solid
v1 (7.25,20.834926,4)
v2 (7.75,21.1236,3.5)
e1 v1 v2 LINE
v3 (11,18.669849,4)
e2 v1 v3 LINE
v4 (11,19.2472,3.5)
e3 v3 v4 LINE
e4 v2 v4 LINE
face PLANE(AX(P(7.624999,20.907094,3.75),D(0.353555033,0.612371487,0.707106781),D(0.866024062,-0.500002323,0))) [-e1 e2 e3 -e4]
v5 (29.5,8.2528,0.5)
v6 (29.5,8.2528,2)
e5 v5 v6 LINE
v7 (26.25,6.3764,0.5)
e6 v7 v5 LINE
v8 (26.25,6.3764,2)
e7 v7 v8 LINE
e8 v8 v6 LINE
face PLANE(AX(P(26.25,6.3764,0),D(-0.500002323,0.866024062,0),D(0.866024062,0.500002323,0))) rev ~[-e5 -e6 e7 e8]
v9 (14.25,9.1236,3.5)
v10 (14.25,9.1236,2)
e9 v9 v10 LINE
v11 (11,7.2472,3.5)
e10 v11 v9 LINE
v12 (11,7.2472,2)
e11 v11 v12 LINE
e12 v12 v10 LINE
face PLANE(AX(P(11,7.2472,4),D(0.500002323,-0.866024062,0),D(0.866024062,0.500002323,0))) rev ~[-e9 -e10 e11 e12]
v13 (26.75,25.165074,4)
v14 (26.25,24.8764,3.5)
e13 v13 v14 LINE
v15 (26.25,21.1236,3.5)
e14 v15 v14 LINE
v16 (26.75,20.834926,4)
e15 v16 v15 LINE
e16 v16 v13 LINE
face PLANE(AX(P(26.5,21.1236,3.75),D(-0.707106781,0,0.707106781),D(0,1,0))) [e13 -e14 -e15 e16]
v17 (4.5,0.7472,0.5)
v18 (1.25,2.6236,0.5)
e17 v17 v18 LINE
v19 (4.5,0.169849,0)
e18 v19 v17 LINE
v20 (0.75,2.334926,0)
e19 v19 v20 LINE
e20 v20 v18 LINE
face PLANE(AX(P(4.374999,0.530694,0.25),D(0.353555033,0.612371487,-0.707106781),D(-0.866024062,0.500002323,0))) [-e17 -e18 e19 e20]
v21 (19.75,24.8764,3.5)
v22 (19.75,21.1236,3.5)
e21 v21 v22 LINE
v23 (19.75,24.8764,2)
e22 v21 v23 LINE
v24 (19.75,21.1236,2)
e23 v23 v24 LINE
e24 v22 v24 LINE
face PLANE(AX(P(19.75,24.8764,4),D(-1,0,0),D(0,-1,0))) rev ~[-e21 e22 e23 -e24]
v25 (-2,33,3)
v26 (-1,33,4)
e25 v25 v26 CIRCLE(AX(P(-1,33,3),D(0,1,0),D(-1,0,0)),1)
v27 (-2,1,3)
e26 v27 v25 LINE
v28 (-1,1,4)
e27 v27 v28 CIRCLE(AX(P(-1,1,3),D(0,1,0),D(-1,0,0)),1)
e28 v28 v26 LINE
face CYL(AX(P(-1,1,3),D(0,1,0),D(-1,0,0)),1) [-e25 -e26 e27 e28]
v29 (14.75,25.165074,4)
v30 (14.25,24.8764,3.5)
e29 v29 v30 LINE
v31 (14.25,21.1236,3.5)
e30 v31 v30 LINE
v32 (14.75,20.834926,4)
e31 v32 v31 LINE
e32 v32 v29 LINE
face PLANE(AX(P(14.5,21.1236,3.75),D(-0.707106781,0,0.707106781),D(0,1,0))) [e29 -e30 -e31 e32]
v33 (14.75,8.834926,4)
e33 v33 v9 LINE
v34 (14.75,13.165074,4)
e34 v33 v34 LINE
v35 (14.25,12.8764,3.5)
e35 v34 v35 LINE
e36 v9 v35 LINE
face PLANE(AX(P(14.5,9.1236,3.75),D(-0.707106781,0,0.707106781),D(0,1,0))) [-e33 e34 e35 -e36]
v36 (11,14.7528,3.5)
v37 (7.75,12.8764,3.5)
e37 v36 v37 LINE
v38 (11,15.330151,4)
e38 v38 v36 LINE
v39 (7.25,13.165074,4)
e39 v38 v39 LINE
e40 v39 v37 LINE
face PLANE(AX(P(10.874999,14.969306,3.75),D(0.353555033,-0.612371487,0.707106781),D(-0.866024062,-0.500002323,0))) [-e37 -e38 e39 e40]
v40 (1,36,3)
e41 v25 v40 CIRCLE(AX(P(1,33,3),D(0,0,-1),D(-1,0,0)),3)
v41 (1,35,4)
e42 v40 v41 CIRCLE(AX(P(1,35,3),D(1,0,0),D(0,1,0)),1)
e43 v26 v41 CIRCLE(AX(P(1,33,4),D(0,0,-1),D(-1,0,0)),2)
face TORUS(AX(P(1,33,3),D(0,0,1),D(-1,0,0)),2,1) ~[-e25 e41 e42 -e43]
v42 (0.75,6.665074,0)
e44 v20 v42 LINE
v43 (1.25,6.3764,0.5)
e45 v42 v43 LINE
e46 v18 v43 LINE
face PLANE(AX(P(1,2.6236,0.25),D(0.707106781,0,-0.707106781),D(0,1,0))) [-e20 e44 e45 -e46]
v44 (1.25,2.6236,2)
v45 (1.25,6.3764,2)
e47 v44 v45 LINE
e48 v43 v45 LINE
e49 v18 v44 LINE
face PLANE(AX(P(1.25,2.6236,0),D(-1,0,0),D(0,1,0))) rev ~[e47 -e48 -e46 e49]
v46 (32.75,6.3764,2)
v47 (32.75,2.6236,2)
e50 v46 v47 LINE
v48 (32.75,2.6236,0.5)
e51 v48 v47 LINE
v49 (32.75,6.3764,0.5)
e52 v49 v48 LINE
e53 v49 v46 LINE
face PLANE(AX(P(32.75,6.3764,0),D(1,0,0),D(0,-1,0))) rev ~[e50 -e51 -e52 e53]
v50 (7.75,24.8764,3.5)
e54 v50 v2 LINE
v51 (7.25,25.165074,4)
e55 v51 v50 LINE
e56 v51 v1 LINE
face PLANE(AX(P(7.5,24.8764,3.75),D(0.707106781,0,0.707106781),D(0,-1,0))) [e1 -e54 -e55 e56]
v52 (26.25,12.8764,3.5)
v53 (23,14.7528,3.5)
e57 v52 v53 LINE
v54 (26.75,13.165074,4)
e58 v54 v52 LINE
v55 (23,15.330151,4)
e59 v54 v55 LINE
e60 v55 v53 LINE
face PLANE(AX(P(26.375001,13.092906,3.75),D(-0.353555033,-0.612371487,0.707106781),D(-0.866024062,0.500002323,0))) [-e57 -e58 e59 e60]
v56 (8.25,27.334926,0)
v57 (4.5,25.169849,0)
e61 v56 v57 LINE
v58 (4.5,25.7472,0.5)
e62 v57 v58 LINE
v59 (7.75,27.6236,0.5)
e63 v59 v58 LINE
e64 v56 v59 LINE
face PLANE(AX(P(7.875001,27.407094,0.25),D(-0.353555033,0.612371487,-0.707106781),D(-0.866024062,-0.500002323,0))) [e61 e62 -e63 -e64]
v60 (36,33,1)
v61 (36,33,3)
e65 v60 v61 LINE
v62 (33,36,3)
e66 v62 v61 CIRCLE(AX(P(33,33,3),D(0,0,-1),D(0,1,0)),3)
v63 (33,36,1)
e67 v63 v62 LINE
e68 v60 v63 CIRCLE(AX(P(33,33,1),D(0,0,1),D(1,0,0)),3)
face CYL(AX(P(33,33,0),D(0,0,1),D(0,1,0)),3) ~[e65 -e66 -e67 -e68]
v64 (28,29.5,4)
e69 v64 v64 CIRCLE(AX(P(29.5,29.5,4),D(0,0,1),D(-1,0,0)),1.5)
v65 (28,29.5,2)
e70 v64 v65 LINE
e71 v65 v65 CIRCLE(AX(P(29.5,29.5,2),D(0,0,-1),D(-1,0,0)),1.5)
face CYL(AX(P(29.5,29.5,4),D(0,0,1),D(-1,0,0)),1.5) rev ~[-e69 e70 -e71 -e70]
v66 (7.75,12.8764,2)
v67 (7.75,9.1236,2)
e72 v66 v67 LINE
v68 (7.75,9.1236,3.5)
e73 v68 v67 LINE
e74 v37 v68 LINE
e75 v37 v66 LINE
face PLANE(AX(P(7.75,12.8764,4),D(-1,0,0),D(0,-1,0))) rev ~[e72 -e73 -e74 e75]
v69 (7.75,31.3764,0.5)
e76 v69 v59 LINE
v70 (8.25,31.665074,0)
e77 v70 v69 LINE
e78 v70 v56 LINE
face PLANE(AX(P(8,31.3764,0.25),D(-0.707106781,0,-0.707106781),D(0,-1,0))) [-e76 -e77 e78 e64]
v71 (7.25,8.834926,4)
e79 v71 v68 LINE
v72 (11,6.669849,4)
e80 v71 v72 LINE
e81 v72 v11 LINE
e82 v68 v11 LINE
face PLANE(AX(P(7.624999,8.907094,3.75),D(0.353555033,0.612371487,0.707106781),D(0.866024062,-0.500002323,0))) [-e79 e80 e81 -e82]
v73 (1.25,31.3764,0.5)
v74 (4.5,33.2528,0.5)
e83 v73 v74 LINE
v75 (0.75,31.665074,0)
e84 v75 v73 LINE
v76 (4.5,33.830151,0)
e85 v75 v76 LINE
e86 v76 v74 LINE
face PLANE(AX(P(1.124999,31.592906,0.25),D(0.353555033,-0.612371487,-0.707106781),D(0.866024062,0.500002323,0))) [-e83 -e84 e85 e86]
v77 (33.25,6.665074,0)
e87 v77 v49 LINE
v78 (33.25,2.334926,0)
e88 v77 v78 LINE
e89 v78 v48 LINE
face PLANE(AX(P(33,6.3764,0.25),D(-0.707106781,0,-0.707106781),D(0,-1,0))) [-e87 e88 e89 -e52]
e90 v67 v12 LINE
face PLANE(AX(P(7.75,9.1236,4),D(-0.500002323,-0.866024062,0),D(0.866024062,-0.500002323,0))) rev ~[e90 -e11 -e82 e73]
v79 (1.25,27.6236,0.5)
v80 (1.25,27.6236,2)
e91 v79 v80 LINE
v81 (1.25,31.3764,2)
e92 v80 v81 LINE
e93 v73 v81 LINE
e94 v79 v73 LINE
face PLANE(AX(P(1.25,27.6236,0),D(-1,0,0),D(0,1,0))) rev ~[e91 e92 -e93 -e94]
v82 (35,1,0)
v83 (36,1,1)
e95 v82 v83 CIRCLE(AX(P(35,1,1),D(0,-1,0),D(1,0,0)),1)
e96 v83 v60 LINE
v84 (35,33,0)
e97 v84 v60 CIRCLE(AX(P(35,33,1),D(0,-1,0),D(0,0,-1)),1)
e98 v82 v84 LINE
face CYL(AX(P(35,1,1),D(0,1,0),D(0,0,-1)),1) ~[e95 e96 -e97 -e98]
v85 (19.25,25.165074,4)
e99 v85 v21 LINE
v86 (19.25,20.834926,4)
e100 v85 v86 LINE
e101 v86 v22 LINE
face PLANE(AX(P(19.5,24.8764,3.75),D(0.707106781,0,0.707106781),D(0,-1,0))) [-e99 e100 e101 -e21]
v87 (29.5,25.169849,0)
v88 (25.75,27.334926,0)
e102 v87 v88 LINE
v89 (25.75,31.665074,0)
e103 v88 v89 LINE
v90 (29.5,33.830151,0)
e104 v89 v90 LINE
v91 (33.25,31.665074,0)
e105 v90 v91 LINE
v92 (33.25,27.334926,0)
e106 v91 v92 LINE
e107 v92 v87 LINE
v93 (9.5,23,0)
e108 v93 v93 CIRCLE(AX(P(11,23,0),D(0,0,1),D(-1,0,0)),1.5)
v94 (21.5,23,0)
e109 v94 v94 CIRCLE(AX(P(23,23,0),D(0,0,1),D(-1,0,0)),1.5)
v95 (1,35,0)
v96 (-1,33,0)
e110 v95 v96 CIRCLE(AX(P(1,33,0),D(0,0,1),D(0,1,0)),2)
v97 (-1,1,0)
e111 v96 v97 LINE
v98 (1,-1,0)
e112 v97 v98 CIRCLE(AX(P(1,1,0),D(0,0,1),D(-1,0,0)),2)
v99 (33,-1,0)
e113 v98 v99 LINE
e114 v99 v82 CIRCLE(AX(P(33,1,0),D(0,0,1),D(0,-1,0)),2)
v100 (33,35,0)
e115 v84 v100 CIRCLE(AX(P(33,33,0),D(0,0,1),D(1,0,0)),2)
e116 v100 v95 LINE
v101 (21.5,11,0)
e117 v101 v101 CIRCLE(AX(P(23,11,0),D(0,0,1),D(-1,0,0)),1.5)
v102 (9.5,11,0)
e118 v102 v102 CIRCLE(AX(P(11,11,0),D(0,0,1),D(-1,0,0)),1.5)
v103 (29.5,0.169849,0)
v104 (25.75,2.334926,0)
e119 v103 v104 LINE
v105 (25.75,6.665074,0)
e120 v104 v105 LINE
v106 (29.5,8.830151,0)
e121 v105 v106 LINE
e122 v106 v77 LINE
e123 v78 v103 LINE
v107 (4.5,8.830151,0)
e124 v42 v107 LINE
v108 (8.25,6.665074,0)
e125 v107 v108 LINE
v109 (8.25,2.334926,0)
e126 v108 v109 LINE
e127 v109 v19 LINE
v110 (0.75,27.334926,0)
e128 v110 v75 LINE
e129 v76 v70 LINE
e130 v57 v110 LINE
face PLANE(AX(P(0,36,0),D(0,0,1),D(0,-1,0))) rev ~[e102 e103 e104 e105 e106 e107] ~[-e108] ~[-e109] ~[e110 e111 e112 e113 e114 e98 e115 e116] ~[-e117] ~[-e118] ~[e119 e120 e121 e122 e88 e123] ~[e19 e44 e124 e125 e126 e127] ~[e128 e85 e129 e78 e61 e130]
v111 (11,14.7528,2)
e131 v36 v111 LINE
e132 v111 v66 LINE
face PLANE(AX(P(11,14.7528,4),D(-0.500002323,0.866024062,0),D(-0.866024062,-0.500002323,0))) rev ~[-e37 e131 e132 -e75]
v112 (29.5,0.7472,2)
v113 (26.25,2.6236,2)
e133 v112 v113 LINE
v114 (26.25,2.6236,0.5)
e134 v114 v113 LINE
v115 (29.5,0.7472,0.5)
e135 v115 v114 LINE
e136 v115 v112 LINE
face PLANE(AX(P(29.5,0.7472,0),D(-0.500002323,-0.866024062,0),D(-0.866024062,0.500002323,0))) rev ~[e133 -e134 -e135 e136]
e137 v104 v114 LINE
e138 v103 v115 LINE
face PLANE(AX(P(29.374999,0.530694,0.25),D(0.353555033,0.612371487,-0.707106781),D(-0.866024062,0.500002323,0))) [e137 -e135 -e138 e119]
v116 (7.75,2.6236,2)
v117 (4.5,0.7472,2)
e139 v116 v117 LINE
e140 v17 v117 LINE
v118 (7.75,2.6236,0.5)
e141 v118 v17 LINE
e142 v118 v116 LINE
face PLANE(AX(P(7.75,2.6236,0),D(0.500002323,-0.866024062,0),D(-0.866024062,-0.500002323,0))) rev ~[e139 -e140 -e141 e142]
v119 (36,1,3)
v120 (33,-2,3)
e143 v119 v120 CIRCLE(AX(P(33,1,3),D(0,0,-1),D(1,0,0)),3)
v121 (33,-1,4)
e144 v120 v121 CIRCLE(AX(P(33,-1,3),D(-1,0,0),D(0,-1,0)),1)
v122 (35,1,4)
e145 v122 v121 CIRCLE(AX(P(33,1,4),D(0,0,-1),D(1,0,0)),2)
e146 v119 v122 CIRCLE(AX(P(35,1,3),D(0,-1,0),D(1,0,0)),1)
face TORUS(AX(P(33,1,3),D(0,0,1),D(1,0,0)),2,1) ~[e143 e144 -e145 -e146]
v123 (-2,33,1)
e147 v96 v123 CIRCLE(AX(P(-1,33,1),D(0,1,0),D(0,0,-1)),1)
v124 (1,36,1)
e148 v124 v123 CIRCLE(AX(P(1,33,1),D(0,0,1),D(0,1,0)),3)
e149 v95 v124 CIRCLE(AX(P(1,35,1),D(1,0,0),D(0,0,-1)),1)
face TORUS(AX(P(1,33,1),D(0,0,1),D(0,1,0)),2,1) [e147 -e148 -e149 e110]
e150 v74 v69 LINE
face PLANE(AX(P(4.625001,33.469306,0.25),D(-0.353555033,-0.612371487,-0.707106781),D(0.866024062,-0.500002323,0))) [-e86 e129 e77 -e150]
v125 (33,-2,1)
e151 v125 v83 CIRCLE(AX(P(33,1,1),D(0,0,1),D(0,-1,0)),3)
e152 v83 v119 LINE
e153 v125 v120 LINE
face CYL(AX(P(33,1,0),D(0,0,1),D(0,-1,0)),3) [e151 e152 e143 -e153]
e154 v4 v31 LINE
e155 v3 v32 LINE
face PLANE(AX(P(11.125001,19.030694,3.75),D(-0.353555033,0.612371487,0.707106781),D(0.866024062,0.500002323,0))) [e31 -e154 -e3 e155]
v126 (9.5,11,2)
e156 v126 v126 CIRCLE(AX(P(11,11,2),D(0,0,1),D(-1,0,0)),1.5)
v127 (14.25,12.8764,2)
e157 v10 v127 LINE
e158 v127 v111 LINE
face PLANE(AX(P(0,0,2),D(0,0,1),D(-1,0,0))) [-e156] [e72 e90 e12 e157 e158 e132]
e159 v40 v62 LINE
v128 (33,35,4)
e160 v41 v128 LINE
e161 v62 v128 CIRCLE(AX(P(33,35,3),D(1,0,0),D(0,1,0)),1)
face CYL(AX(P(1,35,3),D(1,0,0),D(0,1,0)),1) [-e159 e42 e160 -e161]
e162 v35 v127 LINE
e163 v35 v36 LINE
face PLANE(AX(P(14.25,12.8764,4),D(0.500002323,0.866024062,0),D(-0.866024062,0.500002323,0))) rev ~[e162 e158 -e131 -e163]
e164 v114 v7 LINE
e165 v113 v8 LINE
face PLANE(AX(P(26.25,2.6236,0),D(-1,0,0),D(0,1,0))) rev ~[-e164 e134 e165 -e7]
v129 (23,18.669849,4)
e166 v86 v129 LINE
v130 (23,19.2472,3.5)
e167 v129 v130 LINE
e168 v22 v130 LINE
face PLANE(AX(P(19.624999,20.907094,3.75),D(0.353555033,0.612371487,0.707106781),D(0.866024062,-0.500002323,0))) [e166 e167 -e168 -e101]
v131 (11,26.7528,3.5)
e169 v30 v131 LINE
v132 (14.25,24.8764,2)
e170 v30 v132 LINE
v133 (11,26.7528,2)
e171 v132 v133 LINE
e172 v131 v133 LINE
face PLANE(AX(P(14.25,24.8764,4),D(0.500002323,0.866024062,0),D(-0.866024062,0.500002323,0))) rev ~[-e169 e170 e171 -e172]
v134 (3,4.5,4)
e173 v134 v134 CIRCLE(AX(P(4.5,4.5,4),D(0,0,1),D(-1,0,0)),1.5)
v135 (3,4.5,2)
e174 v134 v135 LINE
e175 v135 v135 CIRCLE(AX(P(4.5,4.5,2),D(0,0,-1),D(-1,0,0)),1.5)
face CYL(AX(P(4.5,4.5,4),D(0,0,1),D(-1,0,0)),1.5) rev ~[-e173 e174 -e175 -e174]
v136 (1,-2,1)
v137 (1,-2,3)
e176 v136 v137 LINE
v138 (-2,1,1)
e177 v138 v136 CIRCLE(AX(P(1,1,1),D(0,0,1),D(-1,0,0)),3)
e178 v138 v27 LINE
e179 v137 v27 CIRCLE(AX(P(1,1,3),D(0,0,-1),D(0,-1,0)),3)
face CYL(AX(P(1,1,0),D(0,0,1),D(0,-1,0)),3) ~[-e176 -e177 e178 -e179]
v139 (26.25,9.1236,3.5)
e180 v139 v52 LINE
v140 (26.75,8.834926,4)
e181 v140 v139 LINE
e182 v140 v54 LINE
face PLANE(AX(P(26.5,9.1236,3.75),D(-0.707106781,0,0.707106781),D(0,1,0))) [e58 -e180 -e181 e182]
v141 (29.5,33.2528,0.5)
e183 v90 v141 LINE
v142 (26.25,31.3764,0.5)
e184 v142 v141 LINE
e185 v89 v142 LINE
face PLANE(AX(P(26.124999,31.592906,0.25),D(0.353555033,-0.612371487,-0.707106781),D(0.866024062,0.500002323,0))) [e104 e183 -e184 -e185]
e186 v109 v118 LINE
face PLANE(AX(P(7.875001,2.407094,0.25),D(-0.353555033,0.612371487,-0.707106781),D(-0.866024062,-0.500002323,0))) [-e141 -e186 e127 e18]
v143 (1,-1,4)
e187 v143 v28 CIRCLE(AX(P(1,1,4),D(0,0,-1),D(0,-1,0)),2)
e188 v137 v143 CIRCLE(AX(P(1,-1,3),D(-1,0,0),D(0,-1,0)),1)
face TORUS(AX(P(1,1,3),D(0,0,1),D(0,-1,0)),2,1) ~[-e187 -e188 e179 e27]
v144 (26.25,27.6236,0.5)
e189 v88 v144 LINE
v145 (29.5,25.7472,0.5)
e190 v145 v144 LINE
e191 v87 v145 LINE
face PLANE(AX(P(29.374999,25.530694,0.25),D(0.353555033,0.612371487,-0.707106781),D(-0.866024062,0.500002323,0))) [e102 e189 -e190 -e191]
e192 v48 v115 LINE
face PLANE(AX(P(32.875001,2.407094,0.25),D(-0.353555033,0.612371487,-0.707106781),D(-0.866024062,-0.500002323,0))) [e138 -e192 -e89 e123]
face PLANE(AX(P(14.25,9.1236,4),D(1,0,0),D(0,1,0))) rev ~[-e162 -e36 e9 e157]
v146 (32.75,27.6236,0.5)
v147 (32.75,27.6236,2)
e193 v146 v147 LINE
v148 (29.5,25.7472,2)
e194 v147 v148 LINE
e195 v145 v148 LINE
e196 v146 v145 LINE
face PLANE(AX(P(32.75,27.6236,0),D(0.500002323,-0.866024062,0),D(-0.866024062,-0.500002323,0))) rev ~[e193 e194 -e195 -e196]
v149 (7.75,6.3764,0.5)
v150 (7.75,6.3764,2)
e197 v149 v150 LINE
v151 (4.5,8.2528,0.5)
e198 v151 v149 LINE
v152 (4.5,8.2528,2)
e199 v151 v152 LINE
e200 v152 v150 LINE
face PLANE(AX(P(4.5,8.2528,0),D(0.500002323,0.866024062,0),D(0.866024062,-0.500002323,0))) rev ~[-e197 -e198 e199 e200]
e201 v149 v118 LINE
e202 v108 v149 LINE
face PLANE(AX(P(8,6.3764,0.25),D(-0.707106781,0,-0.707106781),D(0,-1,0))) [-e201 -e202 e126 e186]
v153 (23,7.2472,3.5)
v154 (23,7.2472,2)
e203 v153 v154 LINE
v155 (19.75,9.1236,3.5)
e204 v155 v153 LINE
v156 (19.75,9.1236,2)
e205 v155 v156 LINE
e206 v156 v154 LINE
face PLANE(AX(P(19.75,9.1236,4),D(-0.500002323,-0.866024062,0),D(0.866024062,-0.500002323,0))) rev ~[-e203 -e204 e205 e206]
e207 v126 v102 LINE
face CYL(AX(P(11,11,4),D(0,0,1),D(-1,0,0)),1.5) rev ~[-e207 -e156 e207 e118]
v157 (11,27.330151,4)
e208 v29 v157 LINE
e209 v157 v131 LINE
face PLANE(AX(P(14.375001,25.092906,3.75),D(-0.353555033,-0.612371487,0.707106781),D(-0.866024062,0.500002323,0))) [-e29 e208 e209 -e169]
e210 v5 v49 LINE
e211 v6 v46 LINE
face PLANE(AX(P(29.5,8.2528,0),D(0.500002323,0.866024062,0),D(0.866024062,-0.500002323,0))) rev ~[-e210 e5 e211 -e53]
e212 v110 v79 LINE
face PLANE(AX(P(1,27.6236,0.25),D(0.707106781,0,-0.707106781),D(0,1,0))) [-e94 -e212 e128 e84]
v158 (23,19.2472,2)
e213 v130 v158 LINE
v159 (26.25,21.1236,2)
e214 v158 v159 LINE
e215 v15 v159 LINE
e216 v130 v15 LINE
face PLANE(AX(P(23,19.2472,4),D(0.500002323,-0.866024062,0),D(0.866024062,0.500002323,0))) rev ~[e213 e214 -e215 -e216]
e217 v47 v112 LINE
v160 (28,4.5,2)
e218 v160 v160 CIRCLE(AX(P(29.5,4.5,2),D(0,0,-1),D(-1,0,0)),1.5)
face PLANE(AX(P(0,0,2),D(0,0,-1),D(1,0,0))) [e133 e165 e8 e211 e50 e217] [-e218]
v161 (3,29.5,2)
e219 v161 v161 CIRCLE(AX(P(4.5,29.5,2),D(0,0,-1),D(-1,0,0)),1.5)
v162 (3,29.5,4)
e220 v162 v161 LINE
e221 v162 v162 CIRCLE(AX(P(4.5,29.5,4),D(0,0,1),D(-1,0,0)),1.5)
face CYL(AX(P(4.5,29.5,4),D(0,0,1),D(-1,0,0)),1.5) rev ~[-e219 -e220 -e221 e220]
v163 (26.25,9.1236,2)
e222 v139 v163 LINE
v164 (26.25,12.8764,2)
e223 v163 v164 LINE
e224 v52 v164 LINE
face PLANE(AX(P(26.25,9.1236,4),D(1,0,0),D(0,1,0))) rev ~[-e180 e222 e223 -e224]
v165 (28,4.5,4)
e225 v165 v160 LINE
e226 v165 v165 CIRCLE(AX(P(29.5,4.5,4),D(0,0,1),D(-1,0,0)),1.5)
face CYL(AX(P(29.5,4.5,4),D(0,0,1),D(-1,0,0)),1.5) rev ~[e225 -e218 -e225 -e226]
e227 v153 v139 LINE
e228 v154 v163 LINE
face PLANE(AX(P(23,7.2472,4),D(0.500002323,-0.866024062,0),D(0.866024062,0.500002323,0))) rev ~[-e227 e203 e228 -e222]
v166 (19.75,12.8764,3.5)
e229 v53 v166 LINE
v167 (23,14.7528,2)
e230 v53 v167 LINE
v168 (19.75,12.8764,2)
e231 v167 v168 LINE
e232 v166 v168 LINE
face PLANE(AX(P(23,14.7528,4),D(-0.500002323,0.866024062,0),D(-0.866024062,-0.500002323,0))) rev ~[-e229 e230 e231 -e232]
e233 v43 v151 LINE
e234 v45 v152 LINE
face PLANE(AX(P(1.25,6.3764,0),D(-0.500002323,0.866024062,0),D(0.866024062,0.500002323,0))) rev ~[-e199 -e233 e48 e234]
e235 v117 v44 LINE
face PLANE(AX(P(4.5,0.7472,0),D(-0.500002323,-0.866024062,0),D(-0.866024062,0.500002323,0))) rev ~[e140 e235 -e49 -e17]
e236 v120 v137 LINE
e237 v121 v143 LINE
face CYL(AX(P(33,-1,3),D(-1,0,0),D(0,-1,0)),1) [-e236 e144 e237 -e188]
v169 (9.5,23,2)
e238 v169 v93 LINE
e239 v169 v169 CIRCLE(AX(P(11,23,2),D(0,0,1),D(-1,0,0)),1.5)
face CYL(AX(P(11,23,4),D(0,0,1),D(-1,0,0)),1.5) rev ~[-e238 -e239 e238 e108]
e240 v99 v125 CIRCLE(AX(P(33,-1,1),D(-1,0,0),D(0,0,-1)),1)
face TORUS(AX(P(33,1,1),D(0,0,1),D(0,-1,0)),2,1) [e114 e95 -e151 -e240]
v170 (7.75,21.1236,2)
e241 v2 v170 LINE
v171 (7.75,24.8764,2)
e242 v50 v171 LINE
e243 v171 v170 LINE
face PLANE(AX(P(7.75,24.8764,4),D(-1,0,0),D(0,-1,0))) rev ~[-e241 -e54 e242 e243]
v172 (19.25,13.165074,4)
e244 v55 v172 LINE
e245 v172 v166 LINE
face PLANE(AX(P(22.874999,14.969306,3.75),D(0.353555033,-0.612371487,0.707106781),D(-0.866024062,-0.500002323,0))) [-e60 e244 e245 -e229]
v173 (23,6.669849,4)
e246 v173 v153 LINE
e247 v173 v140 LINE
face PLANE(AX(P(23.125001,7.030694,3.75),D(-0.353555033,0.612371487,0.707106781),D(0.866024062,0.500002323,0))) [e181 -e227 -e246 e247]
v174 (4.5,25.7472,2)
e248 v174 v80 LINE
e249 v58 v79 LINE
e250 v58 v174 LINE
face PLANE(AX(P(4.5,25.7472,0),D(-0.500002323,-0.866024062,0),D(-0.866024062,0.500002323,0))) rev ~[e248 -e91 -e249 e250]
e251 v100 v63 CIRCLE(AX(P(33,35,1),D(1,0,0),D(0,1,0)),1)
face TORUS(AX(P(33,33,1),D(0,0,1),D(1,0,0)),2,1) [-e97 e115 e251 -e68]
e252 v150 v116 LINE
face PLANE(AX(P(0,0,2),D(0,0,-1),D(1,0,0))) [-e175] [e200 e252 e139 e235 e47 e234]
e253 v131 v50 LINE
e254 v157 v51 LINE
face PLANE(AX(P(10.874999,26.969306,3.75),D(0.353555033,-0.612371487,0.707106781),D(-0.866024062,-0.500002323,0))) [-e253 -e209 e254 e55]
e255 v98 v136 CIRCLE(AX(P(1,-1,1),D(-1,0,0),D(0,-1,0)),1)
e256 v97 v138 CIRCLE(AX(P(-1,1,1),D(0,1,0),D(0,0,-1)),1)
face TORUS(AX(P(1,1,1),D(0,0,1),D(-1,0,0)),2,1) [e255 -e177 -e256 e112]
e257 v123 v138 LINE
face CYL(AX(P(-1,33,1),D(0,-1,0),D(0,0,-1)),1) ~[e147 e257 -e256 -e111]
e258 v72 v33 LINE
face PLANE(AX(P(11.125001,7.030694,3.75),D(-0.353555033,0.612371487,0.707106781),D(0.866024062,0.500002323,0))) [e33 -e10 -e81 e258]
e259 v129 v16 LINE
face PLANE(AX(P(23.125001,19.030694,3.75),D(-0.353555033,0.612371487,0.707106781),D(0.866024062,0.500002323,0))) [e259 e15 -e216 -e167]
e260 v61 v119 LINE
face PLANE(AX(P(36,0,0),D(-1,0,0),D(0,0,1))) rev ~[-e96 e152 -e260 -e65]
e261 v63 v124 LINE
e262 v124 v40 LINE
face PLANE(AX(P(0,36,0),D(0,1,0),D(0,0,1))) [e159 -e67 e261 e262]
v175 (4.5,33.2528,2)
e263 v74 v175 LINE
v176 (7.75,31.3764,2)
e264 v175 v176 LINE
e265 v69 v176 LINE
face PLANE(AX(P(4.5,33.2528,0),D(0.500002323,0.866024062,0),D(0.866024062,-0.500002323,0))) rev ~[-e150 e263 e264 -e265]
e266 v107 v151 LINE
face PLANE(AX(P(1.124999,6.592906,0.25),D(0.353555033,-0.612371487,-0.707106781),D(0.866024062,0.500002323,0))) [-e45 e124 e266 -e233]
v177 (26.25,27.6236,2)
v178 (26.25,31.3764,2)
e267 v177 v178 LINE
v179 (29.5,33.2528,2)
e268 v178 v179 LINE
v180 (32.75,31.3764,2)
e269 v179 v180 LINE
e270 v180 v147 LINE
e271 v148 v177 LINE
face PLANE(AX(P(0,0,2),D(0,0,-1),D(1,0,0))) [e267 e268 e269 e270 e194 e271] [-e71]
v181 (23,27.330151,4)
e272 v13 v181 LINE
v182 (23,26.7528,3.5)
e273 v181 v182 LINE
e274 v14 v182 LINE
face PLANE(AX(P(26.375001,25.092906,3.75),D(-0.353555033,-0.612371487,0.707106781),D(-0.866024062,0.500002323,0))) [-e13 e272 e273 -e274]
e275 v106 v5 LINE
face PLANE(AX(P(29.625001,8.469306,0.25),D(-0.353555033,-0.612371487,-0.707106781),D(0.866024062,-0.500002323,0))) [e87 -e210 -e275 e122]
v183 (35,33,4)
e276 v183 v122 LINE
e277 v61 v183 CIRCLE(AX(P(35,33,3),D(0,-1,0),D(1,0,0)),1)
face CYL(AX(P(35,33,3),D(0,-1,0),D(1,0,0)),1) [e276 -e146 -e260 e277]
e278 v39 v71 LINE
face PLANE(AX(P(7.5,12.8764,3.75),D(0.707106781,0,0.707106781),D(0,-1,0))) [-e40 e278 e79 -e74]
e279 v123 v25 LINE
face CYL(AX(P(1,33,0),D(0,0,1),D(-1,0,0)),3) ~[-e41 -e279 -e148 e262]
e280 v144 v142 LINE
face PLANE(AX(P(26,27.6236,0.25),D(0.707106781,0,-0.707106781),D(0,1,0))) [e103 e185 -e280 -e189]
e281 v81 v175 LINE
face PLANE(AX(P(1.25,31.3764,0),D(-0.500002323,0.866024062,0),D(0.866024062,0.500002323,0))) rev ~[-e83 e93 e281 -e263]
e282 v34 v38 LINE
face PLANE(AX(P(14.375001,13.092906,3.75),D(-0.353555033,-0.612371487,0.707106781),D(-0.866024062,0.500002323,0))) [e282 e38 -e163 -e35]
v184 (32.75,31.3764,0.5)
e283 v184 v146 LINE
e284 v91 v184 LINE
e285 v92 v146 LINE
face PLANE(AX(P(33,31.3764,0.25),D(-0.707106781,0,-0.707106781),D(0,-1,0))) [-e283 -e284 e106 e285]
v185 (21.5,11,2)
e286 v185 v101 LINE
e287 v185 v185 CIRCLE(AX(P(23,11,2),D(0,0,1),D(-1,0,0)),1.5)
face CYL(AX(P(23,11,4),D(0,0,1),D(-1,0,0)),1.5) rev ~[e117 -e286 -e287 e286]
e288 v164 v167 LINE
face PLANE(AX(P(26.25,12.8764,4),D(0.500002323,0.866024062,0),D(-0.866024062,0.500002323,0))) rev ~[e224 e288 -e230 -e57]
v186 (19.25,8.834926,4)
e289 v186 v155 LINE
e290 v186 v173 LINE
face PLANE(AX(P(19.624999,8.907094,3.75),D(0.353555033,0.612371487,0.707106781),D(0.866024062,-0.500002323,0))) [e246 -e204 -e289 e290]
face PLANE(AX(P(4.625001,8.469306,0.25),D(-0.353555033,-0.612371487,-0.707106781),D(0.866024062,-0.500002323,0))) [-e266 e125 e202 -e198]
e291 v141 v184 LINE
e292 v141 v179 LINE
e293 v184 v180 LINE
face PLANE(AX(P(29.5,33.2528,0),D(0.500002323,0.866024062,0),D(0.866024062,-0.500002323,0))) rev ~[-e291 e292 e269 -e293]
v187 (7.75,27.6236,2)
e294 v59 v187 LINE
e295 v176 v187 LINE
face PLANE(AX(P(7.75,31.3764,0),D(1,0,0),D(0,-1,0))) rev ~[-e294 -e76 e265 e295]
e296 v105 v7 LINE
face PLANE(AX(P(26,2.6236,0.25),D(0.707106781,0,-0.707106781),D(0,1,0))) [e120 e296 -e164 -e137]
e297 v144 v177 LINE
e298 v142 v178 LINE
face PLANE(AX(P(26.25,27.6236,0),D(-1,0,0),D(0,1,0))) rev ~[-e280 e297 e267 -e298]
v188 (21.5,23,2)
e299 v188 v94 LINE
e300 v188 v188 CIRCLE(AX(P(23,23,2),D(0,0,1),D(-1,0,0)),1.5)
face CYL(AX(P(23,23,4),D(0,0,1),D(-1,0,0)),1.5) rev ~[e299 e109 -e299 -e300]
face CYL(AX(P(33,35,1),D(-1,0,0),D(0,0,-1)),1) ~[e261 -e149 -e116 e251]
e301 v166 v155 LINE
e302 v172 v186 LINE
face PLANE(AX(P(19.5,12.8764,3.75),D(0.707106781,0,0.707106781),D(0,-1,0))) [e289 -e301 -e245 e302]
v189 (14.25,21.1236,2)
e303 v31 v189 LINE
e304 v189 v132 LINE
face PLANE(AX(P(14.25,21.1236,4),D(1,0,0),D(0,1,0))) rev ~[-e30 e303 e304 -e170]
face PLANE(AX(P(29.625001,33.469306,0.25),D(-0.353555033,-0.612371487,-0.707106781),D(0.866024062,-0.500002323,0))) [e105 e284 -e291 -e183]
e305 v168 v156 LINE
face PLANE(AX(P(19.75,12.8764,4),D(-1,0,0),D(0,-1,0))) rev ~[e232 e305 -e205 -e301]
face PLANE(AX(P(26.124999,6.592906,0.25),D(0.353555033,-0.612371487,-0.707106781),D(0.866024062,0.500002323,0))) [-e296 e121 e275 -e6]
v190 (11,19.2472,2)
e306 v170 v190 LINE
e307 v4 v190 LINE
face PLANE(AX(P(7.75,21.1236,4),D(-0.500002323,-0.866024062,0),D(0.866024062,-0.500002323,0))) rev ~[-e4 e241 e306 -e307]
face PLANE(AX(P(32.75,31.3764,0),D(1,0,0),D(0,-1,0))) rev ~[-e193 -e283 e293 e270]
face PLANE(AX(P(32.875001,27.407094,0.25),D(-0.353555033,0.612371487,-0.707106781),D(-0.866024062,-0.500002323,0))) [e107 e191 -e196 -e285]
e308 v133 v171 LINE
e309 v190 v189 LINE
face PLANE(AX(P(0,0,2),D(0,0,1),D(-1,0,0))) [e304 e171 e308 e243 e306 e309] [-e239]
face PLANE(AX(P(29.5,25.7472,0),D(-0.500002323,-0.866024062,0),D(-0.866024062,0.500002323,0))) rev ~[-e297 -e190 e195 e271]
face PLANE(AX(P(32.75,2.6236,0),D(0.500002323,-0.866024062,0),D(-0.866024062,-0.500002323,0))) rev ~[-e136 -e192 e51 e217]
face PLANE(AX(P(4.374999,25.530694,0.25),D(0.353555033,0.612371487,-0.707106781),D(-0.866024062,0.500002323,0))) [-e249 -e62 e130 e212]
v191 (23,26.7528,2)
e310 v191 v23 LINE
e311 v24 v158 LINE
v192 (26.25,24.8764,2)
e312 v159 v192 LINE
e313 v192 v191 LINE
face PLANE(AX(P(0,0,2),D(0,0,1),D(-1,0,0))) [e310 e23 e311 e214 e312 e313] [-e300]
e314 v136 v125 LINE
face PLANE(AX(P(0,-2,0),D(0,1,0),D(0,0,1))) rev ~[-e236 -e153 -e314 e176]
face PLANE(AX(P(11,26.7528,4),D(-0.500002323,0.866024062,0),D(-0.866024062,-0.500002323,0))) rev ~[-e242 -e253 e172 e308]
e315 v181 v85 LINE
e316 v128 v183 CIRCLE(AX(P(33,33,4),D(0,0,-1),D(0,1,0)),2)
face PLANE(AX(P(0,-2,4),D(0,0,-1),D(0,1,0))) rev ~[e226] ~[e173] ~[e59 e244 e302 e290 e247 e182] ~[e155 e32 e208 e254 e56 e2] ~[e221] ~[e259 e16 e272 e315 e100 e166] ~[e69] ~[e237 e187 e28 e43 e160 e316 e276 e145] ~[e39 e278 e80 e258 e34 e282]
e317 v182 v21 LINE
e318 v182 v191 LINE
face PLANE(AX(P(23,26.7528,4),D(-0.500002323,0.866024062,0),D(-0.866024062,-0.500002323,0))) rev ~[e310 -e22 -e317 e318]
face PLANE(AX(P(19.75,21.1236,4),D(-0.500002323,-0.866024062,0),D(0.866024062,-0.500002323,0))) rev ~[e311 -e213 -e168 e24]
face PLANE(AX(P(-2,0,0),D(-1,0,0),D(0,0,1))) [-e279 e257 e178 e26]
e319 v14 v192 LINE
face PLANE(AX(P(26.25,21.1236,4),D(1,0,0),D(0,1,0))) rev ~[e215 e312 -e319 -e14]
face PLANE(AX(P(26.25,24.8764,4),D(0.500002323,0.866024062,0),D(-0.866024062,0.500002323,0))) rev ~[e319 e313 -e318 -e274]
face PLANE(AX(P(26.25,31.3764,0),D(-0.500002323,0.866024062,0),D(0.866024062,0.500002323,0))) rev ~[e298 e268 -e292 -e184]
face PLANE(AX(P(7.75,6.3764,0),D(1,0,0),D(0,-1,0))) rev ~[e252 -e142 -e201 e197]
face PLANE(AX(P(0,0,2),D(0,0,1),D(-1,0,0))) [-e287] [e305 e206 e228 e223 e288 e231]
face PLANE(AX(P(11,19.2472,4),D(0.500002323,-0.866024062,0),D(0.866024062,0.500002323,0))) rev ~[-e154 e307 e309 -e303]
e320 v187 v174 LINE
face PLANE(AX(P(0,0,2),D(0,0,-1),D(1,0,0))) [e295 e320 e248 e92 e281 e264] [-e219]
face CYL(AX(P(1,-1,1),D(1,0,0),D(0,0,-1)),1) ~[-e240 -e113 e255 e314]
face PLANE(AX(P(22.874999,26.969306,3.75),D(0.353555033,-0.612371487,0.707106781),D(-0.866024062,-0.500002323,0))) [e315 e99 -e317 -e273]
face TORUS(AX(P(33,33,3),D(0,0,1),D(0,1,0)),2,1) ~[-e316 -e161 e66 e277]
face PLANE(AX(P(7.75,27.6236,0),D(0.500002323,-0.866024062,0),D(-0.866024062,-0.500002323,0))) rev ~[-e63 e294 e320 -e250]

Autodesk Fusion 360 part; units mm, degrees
sketch "Sketch1" plane through (0, 0, 0) normal (0, 0, 1) x (1, 0, 0)
  line L0 (0, 0) -> (34, 0)
  line L1 (34, 0) -> (34, 34)
  line L2 (34, 34) -> (0, 34)
  line L3 (0, 34) -> (0, 0)
  dimension "d1" = 34
  dimension "d2" = 34
extrude "Extrude1" add sketch "Sketch1" along normal blind 4
sketch "Sketch2" plane through (0, 0, 4) normal (0, 0, 1) x (-1, 0, 0)
  line L0 (0, -34) -> (0, 0)
  line L1 (0, 0) -> (-34, 0)
  line L2 (-34, 0) -> (-34, -34)
  line L3 (-34, -34) -> (0, -34)
  circle A0 centre (-4.5, -29.5) radius 1.5
  circle A1 centre (-29.5, -29.5) radius 1.5
  circle A2 centre (-29.5, -4.5) radius 1.5
  circle A3 centre (-4.5, -4.5) radius 1.5
  dimension "d8" = 3
  dimension "d9" = 3
  dimension "d10" = 3
  dimension "d11" = 3
extrude "Extrude3" cut sketch "Sketch2" against normal blind 9 contours A0 | A1 | A2 | A3
sketch "Sketch3" plane through (0, 0, 0) normal (0, 0, -1) x (1, 0, 0)
  circle A0 centre (29.5, -29.5) radius 1.5
  circle A1 centre (29.5, -4.5) radius 1.5
  circle A2 centre (4.5, -29.5) radius 1.5
  circle A3 centre (4.5, -4.5) radius 1.5
  line L0 (0, 0) -> (0, -34)
  line L1 (0, -34) -> (34, -34)
  line L2 (34, -34) -> (34, 0)
  line L3 (34, 0) -> (0, 0)
  line L4 (7.75, -2.6236) -> (4.5, -0.7472)
  line L5 (4.5, -0.7472) -> (1.25, -2.6236)
  line L6 (1.25, -2.6236) -> (1.25, -6.3764)
  line L7 (1.25, -6.3764) -> (4.5, -8.2528)
  line L8 (4.5, -8.2528) -> (7.75, -6.3764)
  line L9 (7.75, -6.3764) -> (7.75, -2.6236)
  line L10 (32.75, -2.6236) -> (29.5, -0.7472)
  line L11 (29.5, -0.7472) -> (26.25, -2.6236)
  line L12 (26.25, -2.6236) -> (26.25, -6.3764)
  line L13 (26.25, -6.3764) -> (29.5, -8.2528)
  line L14 (29.5, -8.2528) -> (32.75, -6.3764)
  line L15 (32.75, -6.3764) -> (32.75, -2.6236)
  line L16 (7.75, -27.6236) -> (4.5, -25.7472)
  line L17 (4.5, -25.7472) -> (1.25, -27.6236)
  line L18 (1.25, -27.6236) -> (1.25, -31.3764)
  line L19 (1.25, -31.3764) -> (4.5, -33.2528)
  line L20 (4.5, -33.2528) -> (7.75, -31.3764)
  line L21 (7.75, -31.3764) -> (7.75, -27.6236)
  line L22 (32.75, -27.6236) -> (29.5, -25.7472)
  line L23 (29.5, -25.7472) -> (26.25, -27.6236)
  line L24 (26.25, -27.6236) -> (26.25, -31.3764)
  line L25 (26.25, -31.3764) -> (29.5, -33.2528)
  line L26 (29.5, -33.2528) -> (32.75, -31.3764)
  line L27 (32.75, -31.3764) -> (32.75, -27.6236)
  point P0 (4.5, -4.5)
  point P1 (29.5, -4.5)
  point P2 (4.5, -29.5)
  point P3 (29.5, -29.5)
  dimension "d14" = 3.25
  dimension "d15" = 3.25
  dimension "d16" = 3.25
  dimension "d17" = 3.25
extrude "Extrude4" cut sketch "Sketch3" against normal blind 2 contours L4 L5 L6 L7 L8 L9 | L10 L11 L12 L13 L14 L15 | L16 L17 L18 L19 L20 L21 | L22 L23 L24 L25 L26 L27
chamfer "Chamfer2" distance 0.5 angle 45 24 edges at (31.125, 1.6854, 0) (27.875, 1.6854, 0) (26.25, 4.5, 0) (27.875, 7.3146, 0) (31.125, 7.3146, 0) (32.75, 4.5, 0) (6.125, 7.3146, 0) (2.875, 7.3146, 0) (1.25, 4.5, 0) (2.875, 1.6854, 0) (6.125, 1.6854, 0) (7.75, 4.5, 0) (6.125, 32.3146, 0) (7.75, 29.5, 0) (6.125, 26.6854, 0) (2.875, 26.6854, 0) (1.25, 29.5, 0) (2.875, 32.3146, 0) (27.875, 26.6854, 0) (31.125, 26.6854, 0) (32.75, 29.5, 0) (31.125, 32.3146, 0) (27.875, 32.3146, 0) (26.25, 29.5, 0)
extrude "Extrude5" add 1 faces at (22.6667, 34, 1.3333) along direction (0, 1, 0) blind 2
extrude "Extrude6" add 1 faces at (11.3333, 0, 1.3333) along direction (0, -1, 0) blind 2
extrude "Extrude7" add 1 faces at (34, 10.6667, 2.6667) along direction (1, 0, 0) blind 2
extrude "Extrude8" add 1 faces at (0, 10.6667, 2.6667) along direction (-1, 0, 0) blind 2
fillet "Fillet1" radius 3 4 edges at (36, 36, 2) (-2, 36, 2) (36, -2, 2) (-2, -2, 2)
fillet "Fillet2" radius 1 16 edges at (-2, 17, 0) (-1.1213, -1.1213, 0) (17, -2, 0) (35.1213, -1.1213, 0) (36, 17, 0) (35.1213, 35.1213, 0) (17, 36, 0) (-1.1213, 35.1213, 0) (17, -2, 4) (-1.1213, -1.1213, 4) (-2, 17, 4) (-1.1213, 35.1213, 4) (17, 36, 4) (35.1213, 35.1213, 4) (36, 17, 4) (35.1213, -1.1213, 4)
sketch "Sketch7" plane through (0, 0, 4) normal (0, 0, 1) x (-1, 0, 0)
  circle A0 centre (-29.5, -29.5) radius 1.5
  circle A1 centre (-29.5, -4.5) radius 1.5
  circle A2 centre (-4.5, -29.5) radius 1.5
  circle A3 centre (-4.5, -4.5) radius 1.5
  circle A4 centre (-11, -23) radius 1.5
  circle A5 centre (-23, -23) radius 1.5
  circle A6 centre (-11, -11) radius 1.5
  circle A7 centre (-23, -11) radius 1.5
  line L0 (-1, 1) -> (-33, 1)
  arc A8 (-33, 1) -> (-35, -1) centre (-33, -1) ccw
  line L1 (-35, -1) -> (-35, -33)
  arc A9 (-35, -33) -> (-33, -35) centre (-33, -33) ccw
  line L2 (-33, -35) -> (-1, -35)
  arc A10 (-1, -35) -> (1, -33) centre (-1, -33) ccw
  line L3 (1, -33) -> (1, -1)
  arc A11 (1, -1) -> (-1, 1) centre (-1, -1) ccw
  dimension "d40" = 3
  dimension "d41" = 3
  dimension "d42" = 3
  dimension "d43" = 3
extrude "Extrude11" cut sketch "Sketch7" against normal blind 5 contours A4 | A5 | A6 | A7
sketch "Sketch8" plane through (0, 0, 4) normal (0, 0, 1) x (-1, 0, 0)
  circle A0 centre (-11, -23) radius 1.5
  circle A1 centre (-11, -11) radius 1.5
  circle A2 centre (-23, -23) radius 1.5
  circle A3 centre (-23, -11) radius 1.5
  circle A4 centre (-29.5, -29.5) radius 1.5
  circle A5 centre (-29.5, -4.5) radius 1.5
  circle A6 centre (-4.5, -29.5) radius 1.5
  circle A7 centre (-4.5, -4.5) radius 1.5
  line L0 (-14.25, -24.8764) -> (-11, -26.7528)
  line L1 (-11, -26.7528) -> (-7.75, -24.8764)
  line L2 (-7.75, -24.8764) -> (-7.75, -21.1236)
  line L3 (-7.75, -21.1236) -> (-11, -19.2472)
  line L4 (-11, -19.2472) -> (-14.25, -21.1236)
  line L5 (-14.25, -21.1236) -> (-14.25, -24.8764)
  line L6 (-26.25, -24.8764) -> (-23, -26.7528)
  line L7 (-23, -26.7528) -> (-19.75, -24.8764)
  line L8 (-19.75, -24.8764) -> (-19.75, -21.1236)
  line L9 (-19.75, -21.1236) -> (-23, -19.2472)
  line L10 (-23, -19.2472) -> (-26.25, -21.1236)
  line L11 (-26.25, -21.1236) -> (-26.25, -24.8764)
  line L12 (-14.25, -12.8764) -> (-11, -14.7528)
  line L13 (-11, -14.7528) -> (-7.75, -12.8764)
  line L14 (-7.75, -12.8764) -> (-7.75, -9.1236)
  line L15 (-7.75, -9.1236) -> (-11, -7.2472)
  line L16 (-11, -7.2472) -> (-14.25, -9.1236)
  line L17 (-14.25, -9.1236) -> (-14.25, -12.8764)
  line L18 (-26.25, -12.8764) -> (-23, -14.7528)
  line L19 (-23, -14.7528) -> (-19.75, -12.8764)
  line L20 (-19.75, -12.8764) -> (-19.75, -9.1236)
  line L21 (-19.75, -9.1236) -> (-23, -7.2472)
  line L22 (-23, -7.2472) -> (-26.25, -9.1236)
  line L23 (-26.25, -9.1236) -> (-26.25, -12.8764)
  line L24 (-1, 1) -> (-33, 1)
  arc A8 (-33, 1) -> (-35, -1) centre (-33, -1) ccw
  line L25 (-35, -1) -> (-35, -33)
  arc A9 (-35, -33) -> (-33, -35) centre (-33, -33) ccw
  line L26 (-33, -35) -> (-1, -35)
  arc A10 (-1, -35) -> (1, -33) centre (-1, -33) ccw
  line L27 (1, -33) -> (1, -1)
  arc A11 (1, -1) -> (-1, 1) centre (-1, -1) ccw
  point P0 (-11, -23)
  point P1 (-23, -23)
  point P2 (-11, -11)
  point P3 (-23, -11)
  dimension "d46" = 3.25
  dimension "d49" = 3.25
  dimension "d50" = 3.25
  dimension "d51" = 3.25
extrude "Extrude12" cut sketch "Sketch8" against normal blind 2 contours L0 L1 L2 L3 L4 L5 | L6 L7 L8 L9 L10 L11 | L12 L13 L14 L15 L16 L17 | L18 L19 L20 L21 L22 L23
chamfer "Chamfer3" distance 0.5 angle 45 24 edges at (12.625, 20.1854, 4) (14.25, 23, 4) (12.625, 25.8146, 4) (9.375, 25.8146, 4) (7.75, 23, 4) (9.375, 20.1854, 4) (21.375, 20.1854, 4) (24.625, 20.1854, 4) (26.25, 23, 4) (24.625, 25.8146, 4) (21.375, 25.8146, 4) (19.75, 23, 4) (9.375, 8.1854, 4) (12.625, 8.1854, 4) (14.25, 11, 4) (12.625, 13.8146, 4) (9.375, 13.8146, 4) (7.75, 11, 4) (21.375, 8.1854, 4) (24.625, 8.1854, 4) (26.25, 11, 4) (24.625, 13.8146, 4) (21.375, 13.8146, 4) (19.75, 11, 4)
